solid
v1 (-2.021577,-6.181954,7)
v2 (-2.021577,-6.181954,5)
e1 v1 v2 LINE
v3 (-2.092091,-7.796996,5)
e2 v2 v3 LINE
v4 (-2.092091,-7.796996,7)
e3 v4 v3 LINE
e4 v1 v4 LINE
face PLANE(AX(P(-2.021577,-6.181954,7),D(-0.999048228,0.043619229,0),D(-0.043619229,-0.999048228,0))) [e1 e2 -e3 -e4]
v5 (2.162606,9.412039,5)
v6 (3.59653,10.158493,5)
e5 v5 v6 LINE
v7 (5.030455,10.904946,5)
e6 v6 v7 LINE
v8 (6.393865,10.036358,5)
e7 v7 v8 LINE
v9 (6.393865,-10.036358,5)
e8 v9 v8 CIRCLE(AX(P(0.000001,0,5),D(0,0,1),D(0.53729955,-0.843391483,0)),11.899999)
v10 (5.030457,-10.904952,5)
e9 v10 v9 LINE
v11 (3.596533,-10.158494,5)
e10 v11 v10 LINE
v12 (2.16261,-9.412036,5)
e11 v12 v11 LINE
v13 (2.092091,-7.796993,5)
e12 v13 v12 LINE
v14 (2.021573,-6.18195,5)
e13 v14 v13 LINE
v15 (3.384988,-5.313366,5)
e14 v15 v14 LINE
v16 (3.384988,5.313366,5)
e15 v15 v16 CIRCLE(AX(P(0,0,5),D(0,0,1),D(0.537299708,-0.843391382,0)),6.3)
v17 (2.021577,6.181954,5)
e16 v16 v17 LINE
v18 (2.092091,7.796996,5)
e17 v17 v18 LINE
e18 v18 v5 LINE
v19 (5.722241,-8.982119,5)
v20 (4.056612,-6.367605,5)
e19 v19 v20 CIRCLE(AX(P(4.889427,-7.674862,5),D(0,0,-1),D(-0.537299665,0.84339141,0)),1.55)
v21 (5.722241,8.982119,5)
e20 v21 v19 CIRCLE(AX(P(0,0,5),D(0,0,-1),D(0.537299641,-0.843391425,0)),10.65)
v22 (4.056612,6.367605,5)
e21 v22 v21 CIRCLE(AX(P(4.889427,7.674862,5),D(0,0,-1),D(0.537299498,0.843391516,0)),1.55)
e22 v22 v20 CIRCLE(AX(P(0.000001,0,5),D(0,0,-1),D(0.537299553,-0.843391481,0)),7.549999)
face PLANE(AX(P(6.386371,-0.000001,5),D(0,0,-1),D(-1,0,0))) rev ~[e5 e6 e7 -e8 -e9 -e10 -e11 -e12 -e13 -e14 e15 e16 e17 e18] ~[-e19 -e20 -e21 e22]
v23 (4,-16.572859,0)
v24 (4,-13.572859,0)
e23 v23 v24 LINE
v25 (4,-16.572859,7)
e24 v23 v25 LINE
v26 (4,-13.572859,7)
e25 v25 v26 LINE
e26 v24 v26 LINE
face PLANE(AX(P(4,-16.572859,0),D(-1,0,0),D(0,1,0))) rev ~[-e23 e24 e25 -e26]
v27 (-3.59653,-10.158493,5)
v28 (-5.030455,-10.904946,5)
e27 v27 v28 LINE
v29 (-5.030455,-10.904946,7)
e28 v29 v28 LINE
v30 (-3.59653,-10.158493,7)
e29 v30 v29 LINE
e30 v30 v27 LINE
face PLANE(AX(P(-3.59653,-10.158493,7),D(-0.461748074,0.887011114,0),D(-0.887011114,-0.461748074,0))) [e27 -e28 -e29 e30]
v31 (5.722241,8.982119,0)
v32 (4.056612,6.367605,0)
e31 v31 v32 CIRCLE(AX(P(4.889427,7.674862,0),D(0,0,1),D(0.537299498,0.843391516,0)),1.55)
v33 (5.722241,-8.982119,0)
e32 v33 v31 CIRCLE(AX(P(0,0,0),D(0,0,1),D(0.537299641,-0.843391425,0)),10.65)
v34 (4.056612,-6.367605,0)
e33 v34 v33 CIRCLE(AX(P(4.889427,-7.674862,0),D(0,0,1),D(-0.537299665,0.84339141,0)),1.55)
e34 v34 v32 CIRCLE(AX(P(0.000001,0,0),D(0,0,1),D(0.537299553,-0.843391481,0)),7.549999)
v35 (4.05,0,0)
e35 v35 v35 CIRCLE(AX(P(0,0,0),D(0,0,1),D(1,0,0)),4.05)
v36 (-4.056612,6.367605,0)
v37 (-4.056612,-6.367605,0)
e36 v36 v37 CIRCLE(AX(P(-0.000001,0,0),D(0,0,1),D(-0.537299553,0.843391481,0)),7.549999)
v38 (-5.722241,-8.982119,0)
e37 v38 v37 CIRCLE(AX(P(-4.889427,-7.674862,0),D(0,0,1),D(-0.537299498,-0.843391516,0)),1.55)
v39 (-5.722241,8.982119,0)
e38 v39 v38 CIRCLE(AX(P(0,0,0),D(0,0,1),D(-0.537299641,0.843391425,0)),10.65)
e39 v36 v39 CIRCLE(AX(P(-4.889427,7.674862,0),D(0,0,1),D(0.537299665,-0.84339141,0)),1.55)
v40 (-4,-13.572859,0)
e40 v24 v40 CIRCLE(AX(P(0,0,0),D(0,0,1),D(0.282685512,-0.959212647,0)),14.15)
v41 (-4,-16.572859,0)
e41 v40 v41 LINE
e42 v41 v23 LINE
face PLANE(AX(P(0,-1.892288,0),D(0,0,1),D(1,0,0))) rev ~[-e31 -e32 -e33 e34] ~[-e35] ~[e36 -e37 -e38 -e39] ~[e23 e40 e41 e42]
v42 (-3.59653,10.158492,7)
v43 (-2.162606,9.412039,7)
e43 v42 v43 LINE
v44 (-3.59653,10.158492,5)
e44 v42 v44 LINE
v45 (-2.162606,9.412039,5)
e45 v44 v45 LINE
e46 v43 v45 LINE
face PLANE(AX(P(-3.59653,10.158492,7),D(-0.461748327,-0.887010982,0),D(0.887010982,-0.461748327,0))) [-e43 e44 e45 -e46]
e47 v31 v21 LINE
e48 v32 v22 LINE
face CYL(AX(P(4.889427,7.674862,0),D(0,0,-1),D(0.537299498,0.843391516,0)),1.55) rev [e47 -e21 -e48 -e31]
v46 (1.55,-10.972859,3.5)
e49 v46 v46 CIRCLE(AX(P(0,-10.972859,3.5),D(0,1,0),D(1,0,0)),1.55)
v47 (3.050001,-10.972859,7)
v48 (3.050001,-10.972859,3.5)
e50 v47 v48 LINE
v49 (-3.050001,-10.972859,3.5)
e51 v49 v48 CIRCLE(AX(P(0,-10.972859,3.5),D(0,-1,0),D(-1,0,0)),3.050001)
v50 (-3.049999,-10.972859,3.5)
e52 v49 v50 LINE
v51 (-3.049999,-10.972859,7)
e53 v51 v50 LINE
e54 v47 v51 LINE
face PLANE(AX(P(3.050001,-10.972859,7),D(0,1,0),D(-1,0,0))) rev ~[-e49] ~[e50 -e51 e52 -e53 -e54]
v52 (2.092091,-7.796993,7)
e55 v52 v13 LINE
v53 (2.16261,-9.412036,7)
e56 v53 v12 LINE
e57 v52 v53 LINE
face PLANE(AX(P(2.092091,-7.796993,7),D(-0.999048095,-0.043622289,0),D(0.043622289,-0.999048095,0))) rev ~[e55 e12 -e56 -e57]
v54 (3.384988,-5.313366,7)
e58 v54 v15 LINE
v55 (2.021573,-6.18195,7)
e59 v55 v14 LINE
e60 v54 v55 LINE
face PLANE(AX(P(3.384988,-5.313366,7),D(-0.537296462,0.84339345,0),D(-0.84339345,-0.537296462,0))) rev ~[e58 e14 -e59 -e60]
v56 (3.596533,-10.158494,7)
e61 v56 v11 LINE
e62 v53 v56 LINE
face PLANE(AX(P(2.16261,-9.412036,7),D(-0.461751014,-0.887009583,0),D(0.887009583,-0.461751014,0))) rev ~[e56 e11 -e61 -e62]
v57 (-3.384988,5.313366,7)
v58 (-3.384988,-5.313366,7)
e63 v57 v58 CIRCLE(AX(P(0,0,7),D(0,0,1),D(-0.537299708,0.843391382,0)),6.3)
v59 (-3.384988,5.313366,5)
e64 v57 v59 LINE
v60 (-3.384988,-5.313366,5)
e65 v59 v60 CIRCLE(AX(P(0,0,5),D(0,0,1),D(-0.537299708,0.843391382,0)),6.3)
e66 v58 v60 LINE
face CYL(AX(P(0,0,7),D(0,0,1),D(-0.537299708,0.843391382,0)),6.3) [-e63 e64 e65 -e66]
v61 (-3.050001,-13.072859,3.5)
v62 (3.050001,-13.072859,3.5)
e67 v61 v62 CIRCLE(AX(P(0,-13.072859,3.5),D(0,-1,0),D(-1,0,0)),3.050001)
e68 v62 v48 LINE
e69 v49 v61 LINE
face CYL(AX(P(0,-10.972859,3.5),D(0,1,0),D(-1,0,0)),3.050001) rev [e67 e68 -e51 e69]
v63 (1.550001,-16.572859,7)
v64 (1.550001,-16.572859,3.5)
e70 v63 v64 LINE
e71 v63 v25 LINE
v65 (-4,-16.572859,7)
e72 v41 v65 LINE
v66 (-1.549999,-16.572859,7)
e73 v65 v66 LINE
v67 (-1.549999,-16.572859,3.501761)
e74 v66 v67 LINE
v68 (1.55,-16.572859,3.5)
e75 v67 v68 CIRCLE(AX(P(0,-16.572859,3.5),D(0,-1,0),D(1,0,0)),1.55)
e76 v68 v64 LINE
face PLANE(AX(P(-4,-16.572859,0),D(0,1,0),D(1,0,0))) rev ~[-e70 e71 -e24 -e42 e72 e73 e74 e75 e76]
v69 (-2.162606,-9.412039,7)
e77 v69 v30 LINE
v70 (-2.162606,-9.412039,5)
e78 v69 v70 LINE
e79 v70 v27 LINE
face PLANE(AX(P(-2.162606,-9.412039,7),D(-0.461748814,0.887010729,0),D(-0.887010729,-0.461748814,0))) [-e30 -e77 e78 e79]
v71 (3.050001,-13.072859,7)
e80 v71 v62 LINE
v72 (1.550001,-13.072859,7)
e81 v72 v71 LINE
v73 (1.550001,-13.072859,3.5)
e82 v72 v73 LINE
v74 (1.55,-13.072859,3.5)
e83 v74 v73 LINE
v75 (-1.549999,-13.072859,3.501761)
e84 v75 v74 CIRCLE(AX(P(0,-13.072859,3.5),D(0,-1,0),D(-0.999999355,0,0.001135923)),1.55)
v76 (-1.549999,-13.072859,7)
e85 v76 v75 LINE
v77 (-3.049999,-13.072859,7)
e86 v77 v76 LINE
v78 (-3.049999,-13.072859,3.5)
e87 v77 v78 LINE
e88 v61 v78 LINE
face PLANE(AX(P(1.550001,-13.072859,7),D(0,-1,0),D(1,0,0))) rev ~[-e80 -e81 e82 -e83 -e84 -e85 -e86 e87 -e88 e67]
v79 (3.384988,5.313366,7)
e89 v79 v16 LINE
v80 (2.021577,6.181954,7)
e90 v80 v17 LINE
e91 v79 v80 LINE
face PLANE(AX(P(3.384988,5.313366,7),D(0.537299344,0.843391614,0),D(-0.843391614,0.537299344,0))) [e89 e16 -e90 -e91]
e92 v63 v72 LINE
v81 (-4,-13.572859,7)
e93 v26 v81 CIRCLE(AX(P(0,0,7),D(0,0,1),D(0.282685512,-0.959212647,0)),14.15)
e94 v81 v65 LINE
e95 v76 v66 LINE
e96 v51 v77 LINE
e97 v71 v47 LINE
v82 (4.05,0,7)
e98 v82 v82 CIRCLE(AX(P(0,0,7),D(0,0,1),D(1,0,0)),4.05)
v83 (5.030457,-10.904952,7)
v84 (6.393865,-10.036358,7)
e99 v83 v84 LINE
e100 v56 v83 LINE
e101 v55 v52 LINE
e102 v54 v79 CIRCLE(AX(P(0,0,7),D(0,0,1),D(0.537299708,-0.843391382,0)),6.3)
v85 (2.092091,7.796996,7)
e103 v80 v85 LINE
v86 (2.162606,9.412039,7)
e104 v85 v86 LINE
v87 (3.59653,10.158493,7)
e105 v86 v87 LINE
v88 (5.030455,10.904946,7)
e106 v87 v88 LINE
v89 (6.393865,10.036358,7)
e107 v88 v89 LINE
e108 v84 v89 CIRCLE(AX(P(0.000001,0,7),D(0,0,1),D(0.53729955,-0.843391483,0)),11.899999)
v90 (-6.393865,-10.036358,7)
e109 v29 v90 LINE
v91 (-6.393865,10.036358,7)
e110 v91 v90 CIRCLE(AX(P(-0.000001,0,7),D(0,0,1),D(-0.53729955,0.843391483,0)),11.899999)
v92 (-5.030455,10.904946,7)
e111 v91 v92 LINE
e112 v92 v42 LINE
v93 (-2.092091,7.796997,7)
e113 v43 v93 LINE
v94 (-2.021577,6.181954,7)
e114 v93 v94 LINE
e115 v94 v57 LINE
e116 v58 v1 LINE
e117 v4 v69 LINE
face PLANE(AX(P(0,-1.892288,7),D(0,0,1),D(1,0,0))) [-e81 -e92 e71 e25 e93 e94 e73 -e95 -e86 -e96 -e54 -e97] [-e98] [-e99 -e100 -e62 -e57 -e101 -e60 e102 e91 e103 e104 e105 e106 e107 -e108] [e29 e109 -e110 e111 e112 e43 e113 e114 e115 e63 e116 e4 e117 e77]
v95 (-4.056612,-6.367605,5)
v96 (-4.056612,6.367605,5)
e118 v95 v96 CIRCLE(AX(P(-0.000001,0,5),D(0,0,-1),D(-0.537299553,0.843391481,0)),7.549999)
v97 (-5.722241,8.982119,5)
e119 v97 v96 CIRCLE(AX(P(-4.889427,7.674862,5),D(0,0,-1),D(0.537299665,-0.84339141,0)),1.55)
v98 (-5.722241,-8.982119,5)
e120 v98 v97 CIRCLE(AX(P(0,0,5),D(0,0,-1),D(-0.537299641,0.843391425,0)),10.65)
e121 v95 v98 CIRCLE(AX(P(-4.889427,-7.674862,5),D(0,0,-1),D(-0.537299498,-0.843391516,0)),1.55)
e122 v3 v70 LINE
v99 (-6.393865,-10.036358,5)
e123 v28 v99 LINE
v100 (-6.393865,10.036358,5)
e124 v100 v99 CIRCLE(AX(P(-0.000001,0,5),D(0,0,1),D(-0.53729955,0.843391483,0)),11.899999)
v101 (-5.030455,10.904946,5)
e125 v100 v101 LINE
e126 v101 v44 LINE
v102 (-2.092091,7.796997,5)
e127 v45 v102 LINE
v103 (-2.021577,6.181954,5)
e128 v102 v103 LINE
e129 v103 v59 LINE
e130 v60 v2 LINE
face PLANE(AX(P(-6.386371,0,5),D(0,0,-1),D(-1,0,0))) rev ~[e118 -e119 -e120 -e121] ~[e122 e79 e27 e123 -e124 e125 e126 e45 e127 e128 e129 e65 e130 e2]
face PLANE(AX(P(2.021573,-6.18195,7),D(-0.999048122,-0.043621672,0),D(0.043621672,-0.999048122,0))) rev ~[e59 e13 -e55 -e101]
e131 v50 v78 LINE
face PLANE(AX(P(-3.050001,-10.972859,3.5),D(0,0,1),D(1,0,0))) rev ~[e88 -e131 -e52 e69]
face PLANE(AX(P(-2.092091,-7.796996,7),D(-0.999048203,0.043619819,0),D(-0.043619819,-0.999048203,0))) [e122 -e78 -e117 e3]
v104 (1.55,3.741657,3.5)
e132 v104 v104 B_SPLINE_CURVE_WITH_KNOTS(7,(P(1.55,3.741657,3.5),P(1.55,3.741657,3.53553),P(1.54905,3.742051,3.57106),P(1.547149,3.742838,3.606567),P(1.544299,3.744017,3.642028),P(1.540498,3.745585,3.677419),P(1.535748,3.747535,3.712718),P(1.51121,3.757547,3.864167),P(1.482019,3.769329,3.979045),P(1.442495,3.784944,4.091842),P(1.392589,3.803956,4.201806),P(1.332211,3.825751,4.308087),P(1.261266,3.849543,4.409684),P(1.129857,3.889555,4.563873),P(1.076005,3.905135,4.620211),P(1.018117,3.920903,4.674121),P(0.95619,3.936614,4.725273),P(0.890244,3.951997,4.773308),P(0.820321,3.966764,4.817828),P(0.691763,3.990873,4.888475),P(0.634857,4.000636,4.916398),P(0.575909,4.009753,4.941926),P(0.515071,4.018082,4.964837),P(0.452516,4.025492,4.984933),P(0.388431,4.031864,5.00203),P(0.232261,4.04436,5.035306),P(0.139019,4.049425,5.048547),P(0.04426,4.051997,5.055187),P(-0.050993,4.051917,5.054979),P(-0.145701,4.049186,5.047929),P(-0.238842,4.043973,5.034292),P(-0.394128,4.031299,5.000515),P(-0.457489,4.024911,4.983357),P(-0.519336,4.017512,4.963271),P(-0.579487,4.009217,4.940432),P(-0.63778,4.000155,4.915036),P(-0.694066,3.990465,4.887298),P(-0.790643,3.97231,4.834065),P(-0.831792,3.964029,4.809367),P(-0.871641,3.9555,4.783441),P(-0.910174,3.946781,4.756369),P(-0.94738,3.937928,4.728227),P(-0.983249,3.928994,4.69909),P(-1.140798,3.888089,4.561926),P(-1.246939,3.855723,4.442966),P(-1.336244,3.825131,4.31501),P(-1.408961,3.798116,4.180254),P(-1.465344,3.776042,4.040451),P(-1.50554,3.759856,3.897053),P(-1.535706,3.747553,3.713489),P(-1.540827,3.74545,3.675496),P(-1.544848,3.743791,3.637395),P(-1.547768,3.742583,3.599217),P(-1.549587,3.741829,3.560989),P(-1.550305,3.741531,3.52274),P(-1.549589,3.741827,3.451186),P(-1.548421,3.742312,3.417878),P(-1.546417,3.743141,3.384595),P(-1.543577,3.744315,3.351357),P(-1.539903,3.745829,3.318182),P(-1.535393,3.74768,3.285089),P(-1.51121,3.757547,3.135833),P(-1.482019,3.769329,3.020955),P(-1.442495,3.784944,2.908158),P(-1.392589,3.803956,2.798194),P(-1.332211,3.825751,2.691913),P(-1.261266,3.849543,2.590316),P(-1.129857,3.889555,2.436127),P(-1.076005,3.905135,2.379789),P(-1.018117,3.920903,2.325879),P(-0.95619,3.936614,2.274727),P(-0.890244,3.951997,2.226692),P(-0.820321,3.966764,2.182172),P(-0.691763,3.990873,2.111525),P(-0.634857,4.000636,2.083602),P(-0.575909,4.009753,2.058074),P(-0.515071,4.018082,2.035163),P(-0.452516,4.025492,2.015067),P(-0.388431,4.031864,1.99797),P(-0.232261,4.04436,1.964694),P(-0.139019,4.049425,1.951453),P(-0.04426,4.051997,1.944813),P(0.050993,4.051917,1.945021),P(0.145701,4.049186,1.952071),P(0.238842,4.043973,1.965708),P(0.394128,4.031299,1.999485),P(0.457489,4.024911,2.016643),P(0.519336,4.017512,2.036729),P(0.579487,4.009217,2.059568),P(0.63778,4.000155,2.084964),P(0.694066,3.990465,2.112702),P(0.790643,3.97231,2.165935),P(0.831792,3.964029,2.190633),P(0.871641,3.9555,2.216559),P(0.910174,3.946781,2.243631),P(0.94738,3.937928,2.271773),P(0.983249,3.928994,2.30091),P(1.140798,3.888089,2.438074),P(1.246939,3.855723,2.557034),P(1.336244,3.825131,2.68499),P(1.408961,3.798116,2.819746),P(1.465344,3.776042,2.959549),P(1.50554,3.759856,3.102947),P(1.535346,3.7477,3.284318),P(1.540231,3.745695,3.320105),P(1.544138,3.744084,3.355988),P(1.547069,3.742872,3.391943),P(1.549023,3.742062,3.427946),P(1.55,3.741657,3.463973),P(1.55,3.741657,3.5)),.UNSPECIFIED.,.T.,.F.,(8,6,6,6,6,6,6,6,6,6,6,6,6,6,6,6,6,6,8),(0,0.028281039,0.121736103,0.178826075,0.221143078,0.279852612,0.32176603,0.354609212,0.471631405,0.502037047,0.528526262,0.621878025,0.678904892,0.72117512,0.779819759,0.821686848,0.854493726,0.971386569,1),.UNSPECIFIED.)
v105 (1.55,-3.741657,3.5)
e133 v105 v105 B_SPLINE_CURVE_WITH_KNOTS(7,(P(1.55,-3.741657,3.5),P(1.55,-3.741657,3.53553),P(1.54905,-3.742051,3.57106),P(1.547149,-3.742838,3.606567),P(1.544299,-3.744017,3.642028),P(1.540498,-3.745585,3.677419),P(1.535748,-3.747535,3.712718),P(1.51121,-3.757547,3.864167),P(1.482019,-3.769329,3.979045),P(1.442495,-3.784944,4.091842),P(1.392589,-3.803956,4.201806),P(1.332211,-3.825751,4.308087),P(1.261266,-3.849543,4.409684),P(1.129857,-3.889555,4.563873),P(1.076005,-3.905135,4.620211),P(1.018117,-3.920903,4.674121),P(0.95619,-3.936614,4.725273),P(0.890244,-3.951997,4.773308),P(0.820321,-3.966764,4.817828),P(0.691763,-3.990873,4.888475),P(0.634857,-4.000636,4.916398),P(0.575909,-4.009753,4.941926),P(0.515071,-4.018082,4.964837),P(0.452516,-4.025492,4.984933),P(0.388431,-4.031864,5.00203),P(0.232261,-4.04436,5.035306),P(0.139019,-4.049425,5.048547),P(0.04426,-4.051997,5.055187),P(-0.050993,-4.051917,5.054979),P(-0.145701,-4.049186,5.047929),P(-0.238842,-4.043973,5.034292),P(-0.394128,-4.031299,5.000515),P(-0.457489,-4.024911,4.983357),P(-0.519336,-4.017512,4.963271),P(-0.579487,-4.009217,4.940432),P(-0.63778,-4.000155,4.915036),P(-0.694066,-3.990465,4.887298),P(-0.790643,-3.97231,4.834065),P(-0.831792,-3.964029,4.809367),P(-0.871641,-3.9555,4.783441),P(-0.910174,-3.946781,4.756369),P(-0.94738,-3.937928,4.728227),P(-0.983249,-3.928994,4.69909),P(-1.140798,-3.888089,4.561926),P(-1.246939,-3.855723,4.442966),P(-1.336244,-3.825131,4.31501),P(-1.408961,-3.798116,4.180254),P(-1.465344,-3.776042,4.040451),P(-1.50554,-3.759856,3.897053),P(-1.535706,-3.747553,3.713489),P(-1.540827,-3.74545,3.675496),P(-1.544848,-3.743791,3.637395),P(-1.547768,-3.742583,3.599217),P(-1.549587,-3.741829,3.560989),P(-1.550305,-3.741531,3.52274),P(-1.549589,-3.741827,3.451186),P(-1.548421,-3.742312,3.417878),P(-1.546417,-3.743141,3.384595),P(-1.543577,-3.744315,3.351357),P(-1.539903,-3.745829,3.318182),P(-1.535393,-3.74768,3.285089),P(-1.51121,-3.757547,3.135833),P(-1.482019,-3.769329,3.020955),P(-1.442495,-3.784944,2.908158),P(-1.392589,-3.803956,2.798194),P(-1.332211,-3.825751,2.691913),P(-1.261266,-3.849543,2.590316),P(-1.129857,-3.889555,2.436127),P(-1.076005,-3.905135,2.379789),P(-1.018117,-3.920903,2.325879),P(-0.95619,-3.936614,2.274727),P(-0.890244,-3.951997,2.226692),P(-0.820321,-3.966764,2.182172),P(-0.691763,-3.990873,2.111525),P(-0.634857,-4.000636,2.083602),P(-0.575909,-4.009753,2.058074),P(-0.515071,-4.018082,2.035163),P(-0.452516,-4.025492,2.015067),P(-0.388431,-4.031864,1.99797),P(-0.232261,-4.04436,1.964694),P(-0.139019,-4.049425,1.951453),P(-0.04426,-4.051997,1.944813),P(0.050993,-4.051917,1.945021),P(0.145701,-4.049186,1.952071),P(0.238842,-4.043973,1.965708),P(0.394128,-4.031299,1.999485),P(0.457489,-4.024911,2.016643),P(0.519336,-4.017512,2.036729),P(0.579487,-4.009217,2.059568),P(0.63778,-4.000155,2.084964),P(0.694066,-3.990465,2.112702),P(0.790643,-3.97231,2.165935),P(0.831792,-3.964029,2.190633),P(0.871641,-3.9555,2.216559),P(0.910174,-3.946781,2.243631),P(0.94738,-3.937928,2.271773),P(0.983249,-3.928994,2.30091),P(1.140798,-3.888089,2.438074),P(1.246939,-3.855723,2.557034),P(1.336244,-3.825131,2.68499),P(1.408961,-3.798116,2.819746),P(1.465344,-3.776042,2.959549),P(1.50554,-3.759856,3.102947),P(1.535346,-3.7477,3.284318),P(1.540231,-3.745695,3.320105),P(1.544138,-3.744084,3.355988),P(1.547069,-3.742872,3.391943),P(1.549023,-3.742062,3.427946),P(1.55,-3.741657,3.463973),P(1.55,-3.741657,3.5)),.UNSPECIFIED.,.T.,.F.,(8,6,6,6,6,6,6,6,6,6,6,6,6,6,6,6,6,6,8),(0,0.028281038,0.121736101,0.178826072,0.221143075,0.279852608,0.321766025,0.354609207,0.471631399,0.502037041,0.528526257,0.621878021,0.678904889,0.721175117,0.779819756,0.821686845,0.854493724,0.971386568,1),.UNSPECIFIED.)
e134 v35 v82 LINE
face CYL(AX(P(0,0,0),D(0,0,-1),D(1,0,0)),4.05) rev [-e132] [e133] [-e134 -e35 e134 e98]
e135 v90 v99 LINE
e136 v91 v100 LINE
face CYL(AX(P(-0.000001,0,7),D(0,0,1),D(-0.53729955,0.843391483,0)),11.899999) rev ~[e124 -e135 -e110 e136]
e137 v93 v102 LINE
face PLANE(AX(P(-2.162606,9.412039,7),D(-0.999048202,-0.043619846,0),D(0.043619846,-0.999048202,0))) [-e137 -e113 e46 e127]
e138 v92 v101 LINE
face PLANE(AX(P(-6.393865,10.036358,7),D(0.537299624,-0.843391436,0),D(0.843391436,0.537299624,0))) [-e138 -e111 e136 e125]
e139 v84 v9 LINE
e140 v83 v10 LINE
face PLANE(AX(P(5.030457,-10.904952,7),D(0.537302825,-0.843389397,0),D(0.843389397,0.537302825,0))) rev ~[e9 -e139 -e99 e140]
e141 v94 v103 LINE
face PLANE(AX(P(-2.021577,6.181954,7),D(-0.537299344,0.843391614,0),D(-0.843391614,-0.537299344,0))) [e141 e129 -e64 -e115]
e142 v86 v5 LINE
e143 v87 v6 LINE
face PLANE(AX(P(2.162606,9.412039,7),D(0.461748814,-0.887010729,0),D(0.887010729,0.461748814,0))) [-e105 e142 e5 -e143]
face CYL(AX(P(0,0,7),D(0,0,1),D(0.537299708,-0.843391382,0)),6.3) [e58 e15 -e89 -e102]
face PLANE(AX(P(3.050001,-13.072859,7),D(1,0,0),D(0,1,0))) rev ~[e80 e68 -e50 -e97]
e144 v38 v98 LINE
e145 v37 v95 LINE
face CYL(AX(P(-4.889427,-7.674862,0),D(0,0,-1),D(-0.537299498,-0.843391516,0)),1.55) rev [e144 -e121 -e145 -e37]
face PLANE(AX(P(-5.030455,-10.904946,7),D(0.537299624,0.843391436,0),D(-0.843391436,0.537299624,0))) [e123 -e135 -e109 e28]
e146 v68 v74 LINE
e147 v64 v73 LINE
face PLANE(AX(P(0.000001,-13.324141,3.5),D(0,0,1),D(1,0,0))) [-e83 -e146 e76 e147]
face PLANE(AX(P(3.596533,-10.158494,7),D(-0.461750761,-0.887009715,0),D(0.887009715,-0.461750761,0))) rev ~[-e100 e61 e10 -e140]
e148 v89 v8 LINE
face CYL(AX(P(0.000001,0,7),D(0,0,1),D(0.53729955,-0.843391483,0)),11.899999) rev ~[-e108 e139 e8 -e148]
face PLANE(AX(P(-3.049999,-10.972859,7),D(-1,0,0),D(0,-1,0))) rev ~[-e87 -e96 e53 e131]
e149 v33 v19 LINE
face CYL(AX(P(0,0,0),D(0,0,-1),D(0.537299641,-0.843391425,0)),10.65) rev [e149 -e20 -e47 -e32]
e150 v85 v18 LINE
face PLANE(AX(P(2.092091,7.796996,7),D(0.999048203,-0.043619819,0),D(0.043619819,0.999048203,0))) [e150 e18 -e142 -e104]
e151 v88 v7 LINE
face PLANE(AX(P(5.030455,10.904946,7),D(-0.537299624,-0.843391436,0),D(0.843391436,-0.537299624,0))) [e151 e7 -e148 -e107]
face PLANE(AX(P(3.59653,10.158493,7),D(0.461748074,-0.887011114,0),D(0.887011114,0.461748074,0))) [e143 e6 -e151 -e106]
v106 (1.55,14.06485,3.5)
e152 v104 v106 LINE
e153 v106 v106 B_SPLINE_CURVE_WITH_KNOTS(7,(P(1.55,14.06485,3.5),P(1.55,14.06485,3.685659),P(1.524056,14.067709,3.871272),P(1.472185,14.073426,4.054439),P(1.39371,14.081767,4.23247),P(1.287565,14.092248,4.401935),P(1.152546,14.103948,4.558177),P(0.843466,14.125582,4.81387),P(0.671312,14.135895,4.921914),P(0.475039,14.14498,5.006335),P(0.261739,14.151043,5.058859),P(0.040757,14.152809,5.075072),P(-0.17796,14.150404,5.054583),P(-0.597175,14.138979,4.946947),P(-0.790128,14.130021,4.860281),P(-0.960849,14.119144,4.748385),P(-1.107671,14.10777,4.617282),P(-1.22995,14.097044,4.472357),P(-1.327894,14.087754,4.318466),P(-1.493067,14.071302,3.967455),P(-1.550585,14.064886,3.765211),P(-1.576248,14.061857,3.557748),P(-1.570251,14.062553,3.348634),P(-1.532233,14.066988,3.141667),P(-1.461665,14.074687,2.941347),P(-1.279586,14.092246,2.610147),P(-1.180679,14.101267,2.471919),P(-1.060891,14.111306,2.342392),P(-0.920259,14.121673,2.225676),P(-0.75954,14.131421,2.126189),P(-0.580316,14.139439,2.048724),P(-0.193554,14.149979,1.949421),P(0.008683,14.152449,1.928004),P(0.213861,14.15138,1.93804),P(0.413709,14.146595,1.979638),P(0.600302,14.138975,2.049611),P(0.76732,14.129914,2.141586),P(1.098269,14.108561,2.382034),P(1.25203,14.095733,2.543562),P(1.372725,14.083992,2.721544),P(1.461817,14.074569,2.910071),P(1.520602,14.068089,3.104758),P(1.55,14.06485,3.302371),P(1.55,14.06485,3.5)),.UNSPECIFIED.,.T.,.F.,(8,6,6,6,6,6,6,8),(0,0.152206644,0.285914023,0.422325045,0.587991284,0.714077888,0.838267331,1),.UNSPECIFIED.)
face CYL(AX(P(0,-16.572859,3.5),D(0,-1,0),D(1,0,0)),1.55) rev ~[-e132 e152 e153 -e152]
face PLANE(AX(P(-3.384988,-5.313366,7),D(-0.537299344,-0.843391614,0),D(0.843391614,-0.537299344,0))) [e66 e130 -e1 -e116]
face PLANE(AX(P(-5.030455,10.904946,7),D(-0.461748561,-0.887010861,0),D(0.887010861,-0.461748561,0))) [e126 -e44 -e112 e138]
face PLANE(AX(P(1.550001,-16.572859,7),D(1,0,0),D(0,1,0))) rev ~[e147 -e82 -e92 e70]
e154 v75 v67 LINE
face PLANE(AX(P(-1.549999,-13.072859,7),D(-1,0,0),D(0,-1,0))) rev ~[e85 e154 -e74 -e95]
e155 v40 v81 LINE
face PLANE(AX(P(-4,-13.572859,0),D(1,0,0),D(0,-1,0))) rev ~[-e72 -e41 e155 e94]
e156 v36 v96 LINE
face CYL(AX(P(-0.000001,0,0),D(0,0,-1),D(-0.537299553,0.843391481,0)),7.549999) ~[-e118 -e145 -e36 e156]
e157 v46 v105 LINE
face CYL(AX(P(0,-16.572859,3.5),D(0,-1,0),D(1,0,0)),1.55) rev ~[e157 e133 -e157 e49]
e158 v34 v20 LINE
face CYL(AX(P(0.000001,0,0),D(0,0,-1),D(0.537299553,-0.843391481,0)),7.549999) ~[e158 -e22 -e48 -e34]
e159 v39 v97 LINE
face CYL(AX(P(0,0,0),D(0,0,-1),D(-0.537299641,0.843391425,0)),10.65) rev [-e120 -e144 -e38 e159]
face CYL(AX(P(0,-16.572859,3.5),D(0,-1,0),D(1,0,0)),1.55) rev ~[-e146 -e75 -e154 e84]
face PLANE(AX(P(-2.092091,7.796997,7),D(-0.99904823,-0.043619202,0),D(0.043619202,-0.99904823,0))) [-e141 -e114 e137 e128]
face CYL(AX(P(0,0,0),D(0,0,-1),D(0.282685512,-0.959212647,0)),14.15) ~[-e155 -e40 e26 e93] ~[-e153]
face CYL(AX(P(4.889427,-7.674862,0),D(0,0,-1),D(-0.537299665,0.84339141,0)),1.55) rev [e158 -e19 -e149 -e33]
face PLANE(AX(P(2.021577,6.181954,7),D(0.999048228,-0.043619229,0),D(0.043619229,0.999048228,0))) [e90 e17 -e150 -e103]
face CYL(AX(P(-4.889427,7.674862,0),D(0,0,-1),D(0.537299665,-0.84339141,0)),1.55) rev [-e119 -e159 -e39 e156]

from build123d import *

# Parameters (mm, degrees)
SKETCH_R        = 4.05
EXTRUDE_DEPTH   = 7
SKETCH001_R     = 1.55
POCKET_DEPTH    = 30.723859
POCKET001_DEPTH = 3.5
POCKET002_DEPTH = 2.1
POCKET003_DEPTH = 2


with BuildPart() as part:
    # Sketch → Extrude (new body)
    with BuildSketch(Plane.XY):
        with BuildLine():
            ThreePointArc((4, -13.572859), (0, 14.15), (-4, -13.572859))
            Line((-4, -13.572859), (-4, -16.572859))
            Line((-4, -16.572859), (4, -16.572859))
            Line((4, -16.572859), (4, -13.572859))
        make_face()
        Circle(SKETCH_R, mode=Mode.SUBTRACT)
        with BuildLine():
            ThreePointArc((-4.056612, 6.367605), (-7.55, 0), (-4.056612, -6.367605))
            ThreePointArc((-5.722241, -8.982119), (-3.58217, -8.507677), (-4.056612, -6.367605))
            ThreePointArc((-5.722241, 8.982119), (-10.65, 0), (-5.722241, -8.982119))
            ThreePointArc((-4.056612, 6.367605), (-3.58217, 8.507677), (-5.722241, 8.982119))
        make_face(mode=Mode.SUBTRACT)
        with BuildLine():
            ThreePointArc((4.056612, -6.367605), (7.55, 0), (4.056612, 6.367605))
            ThreePointArc((5.722241, 8.982119), (3.58217, 8.507677), (4.056612, 6.367605))
            ThreePointArc((5.722241, -8.982119), (10.65, 0), (5.722241, 8.982119))
            ThreePointArc((4.056612, -6.367605), (3.58217, -8.507677), (5.722241, -8.982119))
        make_face(mode=Mode.SUBTRACT)
    extrude(amount=EXTRUDE_DEPTH)

    # Sketch001 → Pocket (cut, through all)
    with BuildSketch(Plane.XZ.offset(16.572859)):
        with Locations((0, 3.5)):
            Circle(SKETCH001_R)
    extrude(amount=-POCKET_DEPTH, mode=Mode.SUBTRACT)

    # Sketch002 → Pocket001 (cut)
    with BuildSketch(Plane.XY.offset(7)):
        Polygon((-3.049999, -10.972859), (-3.049999, -13.072859), (-1.549999, -13.072859), (-1.549999, -16.572859), (1.550001, -16.572859), (1.550001, -13.072859), (3.050001, -13.072859), (3.050001, -10.972859), align=None)
    extrude(amount=-POCKET001_DEPTH, mode=Mode.SUBTRACT)

    # Sketch003 → Pocket002 (cut)
    with BuildSketch(Plane.XZ.offset(10.972859)):
        with BuildLine():
            ThreePointArc((-3.050001, 3.5), (0, 0.449999), (3.050001, 3.5))
            Line((-3.050001, 3.5), (3.050001, 3.5))
        make_face()
    extrude(amount=POCKET002_DEPTH, mode=Mode.SUBTRACT)

    # Sketch004 → Pocket003 (cut)
    with BuildSketch(Plane.XY.offset(7)):
        with BuildLine():
            ThreePointArc((-3.384988, 5.313366), (-6.3, 0), (-3.384988, -5.313366))
            Line((-3.384988, -5.313366), (-2.021577, -6.181954))
            Line((-2.021577, -6.181954), (-2.092091, -7.796996))
            Line((-2.092091, -7.796996), (-2.162606, -9.412039))
            Line((-2.162606, -9.412039), (-3.59653, -10.158493))
            Line((-3.59653, -10.158493), (-5.030455, -10.904946))
            Line((-5.030455, -10.904946), (-6.393865, -10.036358))
            ThreePointArc((-6.393865, 10.036358), (-11.9, 0), (-6.393865, -10.036358))
            Line((-6.393865, 10.036358), (-5.030455, 10.904946))
            Line((-5.030455, 10.904946), (-3.59653, 10.158492))
            Line((-3.59653, 10.158492), (-2.162606, 9.412039))
            Line((-2.162606, 9.412039), (-2.092091, 7.796997))
            Line((-2.092091, 7.796997), (-2.021577, 6.181954))
            Line((-2.021577, 6.181954), (-3.384988, 5.313366))
        make_face()
        with BuildLine():
            ThreePointArc((3.384988, -5.313366), (6.3, 0), (3.384988, 5.313366))
            Line((3.384988, 5.313366), (2.021577, 6.181954))
            Line((2.021577, 6.181954), (2.092091, 7.796996))
            Line((2.092091, 7.796996), (2.162606, 9.412039))
            Line((2.162606, 9.412039), (3.59653, 10.158493))
            Line((3.59653, 10.158493), (5.030455, 10.904946))
            Line((5.030455, 10.904946), (6.393865, 10.036358))
            ThreePointArc((6.393865, -10.036358), (11.9, 0), (6.393865, 10.036358))
            Line((5.030457, -10.904952), (6.393865, -10.036358))
            Line((3.596533, -10.158494), (5.030457, -10.904952))
            Line((2.16261, -9.412036), (3.596533, -10.158494))
            Line((2.092091, -7.796993), (2.16261, -9.412036))
            Line((2.021573, -6.18195), (2.092091, -7.796993))
            Line((3.384988, -5.313366), (2.021573, -6.18195))
        make_face()
    extrude(amount=-POCKET003_DEPTH, mode=Mode.SUBTRACT)


solid = part.part
